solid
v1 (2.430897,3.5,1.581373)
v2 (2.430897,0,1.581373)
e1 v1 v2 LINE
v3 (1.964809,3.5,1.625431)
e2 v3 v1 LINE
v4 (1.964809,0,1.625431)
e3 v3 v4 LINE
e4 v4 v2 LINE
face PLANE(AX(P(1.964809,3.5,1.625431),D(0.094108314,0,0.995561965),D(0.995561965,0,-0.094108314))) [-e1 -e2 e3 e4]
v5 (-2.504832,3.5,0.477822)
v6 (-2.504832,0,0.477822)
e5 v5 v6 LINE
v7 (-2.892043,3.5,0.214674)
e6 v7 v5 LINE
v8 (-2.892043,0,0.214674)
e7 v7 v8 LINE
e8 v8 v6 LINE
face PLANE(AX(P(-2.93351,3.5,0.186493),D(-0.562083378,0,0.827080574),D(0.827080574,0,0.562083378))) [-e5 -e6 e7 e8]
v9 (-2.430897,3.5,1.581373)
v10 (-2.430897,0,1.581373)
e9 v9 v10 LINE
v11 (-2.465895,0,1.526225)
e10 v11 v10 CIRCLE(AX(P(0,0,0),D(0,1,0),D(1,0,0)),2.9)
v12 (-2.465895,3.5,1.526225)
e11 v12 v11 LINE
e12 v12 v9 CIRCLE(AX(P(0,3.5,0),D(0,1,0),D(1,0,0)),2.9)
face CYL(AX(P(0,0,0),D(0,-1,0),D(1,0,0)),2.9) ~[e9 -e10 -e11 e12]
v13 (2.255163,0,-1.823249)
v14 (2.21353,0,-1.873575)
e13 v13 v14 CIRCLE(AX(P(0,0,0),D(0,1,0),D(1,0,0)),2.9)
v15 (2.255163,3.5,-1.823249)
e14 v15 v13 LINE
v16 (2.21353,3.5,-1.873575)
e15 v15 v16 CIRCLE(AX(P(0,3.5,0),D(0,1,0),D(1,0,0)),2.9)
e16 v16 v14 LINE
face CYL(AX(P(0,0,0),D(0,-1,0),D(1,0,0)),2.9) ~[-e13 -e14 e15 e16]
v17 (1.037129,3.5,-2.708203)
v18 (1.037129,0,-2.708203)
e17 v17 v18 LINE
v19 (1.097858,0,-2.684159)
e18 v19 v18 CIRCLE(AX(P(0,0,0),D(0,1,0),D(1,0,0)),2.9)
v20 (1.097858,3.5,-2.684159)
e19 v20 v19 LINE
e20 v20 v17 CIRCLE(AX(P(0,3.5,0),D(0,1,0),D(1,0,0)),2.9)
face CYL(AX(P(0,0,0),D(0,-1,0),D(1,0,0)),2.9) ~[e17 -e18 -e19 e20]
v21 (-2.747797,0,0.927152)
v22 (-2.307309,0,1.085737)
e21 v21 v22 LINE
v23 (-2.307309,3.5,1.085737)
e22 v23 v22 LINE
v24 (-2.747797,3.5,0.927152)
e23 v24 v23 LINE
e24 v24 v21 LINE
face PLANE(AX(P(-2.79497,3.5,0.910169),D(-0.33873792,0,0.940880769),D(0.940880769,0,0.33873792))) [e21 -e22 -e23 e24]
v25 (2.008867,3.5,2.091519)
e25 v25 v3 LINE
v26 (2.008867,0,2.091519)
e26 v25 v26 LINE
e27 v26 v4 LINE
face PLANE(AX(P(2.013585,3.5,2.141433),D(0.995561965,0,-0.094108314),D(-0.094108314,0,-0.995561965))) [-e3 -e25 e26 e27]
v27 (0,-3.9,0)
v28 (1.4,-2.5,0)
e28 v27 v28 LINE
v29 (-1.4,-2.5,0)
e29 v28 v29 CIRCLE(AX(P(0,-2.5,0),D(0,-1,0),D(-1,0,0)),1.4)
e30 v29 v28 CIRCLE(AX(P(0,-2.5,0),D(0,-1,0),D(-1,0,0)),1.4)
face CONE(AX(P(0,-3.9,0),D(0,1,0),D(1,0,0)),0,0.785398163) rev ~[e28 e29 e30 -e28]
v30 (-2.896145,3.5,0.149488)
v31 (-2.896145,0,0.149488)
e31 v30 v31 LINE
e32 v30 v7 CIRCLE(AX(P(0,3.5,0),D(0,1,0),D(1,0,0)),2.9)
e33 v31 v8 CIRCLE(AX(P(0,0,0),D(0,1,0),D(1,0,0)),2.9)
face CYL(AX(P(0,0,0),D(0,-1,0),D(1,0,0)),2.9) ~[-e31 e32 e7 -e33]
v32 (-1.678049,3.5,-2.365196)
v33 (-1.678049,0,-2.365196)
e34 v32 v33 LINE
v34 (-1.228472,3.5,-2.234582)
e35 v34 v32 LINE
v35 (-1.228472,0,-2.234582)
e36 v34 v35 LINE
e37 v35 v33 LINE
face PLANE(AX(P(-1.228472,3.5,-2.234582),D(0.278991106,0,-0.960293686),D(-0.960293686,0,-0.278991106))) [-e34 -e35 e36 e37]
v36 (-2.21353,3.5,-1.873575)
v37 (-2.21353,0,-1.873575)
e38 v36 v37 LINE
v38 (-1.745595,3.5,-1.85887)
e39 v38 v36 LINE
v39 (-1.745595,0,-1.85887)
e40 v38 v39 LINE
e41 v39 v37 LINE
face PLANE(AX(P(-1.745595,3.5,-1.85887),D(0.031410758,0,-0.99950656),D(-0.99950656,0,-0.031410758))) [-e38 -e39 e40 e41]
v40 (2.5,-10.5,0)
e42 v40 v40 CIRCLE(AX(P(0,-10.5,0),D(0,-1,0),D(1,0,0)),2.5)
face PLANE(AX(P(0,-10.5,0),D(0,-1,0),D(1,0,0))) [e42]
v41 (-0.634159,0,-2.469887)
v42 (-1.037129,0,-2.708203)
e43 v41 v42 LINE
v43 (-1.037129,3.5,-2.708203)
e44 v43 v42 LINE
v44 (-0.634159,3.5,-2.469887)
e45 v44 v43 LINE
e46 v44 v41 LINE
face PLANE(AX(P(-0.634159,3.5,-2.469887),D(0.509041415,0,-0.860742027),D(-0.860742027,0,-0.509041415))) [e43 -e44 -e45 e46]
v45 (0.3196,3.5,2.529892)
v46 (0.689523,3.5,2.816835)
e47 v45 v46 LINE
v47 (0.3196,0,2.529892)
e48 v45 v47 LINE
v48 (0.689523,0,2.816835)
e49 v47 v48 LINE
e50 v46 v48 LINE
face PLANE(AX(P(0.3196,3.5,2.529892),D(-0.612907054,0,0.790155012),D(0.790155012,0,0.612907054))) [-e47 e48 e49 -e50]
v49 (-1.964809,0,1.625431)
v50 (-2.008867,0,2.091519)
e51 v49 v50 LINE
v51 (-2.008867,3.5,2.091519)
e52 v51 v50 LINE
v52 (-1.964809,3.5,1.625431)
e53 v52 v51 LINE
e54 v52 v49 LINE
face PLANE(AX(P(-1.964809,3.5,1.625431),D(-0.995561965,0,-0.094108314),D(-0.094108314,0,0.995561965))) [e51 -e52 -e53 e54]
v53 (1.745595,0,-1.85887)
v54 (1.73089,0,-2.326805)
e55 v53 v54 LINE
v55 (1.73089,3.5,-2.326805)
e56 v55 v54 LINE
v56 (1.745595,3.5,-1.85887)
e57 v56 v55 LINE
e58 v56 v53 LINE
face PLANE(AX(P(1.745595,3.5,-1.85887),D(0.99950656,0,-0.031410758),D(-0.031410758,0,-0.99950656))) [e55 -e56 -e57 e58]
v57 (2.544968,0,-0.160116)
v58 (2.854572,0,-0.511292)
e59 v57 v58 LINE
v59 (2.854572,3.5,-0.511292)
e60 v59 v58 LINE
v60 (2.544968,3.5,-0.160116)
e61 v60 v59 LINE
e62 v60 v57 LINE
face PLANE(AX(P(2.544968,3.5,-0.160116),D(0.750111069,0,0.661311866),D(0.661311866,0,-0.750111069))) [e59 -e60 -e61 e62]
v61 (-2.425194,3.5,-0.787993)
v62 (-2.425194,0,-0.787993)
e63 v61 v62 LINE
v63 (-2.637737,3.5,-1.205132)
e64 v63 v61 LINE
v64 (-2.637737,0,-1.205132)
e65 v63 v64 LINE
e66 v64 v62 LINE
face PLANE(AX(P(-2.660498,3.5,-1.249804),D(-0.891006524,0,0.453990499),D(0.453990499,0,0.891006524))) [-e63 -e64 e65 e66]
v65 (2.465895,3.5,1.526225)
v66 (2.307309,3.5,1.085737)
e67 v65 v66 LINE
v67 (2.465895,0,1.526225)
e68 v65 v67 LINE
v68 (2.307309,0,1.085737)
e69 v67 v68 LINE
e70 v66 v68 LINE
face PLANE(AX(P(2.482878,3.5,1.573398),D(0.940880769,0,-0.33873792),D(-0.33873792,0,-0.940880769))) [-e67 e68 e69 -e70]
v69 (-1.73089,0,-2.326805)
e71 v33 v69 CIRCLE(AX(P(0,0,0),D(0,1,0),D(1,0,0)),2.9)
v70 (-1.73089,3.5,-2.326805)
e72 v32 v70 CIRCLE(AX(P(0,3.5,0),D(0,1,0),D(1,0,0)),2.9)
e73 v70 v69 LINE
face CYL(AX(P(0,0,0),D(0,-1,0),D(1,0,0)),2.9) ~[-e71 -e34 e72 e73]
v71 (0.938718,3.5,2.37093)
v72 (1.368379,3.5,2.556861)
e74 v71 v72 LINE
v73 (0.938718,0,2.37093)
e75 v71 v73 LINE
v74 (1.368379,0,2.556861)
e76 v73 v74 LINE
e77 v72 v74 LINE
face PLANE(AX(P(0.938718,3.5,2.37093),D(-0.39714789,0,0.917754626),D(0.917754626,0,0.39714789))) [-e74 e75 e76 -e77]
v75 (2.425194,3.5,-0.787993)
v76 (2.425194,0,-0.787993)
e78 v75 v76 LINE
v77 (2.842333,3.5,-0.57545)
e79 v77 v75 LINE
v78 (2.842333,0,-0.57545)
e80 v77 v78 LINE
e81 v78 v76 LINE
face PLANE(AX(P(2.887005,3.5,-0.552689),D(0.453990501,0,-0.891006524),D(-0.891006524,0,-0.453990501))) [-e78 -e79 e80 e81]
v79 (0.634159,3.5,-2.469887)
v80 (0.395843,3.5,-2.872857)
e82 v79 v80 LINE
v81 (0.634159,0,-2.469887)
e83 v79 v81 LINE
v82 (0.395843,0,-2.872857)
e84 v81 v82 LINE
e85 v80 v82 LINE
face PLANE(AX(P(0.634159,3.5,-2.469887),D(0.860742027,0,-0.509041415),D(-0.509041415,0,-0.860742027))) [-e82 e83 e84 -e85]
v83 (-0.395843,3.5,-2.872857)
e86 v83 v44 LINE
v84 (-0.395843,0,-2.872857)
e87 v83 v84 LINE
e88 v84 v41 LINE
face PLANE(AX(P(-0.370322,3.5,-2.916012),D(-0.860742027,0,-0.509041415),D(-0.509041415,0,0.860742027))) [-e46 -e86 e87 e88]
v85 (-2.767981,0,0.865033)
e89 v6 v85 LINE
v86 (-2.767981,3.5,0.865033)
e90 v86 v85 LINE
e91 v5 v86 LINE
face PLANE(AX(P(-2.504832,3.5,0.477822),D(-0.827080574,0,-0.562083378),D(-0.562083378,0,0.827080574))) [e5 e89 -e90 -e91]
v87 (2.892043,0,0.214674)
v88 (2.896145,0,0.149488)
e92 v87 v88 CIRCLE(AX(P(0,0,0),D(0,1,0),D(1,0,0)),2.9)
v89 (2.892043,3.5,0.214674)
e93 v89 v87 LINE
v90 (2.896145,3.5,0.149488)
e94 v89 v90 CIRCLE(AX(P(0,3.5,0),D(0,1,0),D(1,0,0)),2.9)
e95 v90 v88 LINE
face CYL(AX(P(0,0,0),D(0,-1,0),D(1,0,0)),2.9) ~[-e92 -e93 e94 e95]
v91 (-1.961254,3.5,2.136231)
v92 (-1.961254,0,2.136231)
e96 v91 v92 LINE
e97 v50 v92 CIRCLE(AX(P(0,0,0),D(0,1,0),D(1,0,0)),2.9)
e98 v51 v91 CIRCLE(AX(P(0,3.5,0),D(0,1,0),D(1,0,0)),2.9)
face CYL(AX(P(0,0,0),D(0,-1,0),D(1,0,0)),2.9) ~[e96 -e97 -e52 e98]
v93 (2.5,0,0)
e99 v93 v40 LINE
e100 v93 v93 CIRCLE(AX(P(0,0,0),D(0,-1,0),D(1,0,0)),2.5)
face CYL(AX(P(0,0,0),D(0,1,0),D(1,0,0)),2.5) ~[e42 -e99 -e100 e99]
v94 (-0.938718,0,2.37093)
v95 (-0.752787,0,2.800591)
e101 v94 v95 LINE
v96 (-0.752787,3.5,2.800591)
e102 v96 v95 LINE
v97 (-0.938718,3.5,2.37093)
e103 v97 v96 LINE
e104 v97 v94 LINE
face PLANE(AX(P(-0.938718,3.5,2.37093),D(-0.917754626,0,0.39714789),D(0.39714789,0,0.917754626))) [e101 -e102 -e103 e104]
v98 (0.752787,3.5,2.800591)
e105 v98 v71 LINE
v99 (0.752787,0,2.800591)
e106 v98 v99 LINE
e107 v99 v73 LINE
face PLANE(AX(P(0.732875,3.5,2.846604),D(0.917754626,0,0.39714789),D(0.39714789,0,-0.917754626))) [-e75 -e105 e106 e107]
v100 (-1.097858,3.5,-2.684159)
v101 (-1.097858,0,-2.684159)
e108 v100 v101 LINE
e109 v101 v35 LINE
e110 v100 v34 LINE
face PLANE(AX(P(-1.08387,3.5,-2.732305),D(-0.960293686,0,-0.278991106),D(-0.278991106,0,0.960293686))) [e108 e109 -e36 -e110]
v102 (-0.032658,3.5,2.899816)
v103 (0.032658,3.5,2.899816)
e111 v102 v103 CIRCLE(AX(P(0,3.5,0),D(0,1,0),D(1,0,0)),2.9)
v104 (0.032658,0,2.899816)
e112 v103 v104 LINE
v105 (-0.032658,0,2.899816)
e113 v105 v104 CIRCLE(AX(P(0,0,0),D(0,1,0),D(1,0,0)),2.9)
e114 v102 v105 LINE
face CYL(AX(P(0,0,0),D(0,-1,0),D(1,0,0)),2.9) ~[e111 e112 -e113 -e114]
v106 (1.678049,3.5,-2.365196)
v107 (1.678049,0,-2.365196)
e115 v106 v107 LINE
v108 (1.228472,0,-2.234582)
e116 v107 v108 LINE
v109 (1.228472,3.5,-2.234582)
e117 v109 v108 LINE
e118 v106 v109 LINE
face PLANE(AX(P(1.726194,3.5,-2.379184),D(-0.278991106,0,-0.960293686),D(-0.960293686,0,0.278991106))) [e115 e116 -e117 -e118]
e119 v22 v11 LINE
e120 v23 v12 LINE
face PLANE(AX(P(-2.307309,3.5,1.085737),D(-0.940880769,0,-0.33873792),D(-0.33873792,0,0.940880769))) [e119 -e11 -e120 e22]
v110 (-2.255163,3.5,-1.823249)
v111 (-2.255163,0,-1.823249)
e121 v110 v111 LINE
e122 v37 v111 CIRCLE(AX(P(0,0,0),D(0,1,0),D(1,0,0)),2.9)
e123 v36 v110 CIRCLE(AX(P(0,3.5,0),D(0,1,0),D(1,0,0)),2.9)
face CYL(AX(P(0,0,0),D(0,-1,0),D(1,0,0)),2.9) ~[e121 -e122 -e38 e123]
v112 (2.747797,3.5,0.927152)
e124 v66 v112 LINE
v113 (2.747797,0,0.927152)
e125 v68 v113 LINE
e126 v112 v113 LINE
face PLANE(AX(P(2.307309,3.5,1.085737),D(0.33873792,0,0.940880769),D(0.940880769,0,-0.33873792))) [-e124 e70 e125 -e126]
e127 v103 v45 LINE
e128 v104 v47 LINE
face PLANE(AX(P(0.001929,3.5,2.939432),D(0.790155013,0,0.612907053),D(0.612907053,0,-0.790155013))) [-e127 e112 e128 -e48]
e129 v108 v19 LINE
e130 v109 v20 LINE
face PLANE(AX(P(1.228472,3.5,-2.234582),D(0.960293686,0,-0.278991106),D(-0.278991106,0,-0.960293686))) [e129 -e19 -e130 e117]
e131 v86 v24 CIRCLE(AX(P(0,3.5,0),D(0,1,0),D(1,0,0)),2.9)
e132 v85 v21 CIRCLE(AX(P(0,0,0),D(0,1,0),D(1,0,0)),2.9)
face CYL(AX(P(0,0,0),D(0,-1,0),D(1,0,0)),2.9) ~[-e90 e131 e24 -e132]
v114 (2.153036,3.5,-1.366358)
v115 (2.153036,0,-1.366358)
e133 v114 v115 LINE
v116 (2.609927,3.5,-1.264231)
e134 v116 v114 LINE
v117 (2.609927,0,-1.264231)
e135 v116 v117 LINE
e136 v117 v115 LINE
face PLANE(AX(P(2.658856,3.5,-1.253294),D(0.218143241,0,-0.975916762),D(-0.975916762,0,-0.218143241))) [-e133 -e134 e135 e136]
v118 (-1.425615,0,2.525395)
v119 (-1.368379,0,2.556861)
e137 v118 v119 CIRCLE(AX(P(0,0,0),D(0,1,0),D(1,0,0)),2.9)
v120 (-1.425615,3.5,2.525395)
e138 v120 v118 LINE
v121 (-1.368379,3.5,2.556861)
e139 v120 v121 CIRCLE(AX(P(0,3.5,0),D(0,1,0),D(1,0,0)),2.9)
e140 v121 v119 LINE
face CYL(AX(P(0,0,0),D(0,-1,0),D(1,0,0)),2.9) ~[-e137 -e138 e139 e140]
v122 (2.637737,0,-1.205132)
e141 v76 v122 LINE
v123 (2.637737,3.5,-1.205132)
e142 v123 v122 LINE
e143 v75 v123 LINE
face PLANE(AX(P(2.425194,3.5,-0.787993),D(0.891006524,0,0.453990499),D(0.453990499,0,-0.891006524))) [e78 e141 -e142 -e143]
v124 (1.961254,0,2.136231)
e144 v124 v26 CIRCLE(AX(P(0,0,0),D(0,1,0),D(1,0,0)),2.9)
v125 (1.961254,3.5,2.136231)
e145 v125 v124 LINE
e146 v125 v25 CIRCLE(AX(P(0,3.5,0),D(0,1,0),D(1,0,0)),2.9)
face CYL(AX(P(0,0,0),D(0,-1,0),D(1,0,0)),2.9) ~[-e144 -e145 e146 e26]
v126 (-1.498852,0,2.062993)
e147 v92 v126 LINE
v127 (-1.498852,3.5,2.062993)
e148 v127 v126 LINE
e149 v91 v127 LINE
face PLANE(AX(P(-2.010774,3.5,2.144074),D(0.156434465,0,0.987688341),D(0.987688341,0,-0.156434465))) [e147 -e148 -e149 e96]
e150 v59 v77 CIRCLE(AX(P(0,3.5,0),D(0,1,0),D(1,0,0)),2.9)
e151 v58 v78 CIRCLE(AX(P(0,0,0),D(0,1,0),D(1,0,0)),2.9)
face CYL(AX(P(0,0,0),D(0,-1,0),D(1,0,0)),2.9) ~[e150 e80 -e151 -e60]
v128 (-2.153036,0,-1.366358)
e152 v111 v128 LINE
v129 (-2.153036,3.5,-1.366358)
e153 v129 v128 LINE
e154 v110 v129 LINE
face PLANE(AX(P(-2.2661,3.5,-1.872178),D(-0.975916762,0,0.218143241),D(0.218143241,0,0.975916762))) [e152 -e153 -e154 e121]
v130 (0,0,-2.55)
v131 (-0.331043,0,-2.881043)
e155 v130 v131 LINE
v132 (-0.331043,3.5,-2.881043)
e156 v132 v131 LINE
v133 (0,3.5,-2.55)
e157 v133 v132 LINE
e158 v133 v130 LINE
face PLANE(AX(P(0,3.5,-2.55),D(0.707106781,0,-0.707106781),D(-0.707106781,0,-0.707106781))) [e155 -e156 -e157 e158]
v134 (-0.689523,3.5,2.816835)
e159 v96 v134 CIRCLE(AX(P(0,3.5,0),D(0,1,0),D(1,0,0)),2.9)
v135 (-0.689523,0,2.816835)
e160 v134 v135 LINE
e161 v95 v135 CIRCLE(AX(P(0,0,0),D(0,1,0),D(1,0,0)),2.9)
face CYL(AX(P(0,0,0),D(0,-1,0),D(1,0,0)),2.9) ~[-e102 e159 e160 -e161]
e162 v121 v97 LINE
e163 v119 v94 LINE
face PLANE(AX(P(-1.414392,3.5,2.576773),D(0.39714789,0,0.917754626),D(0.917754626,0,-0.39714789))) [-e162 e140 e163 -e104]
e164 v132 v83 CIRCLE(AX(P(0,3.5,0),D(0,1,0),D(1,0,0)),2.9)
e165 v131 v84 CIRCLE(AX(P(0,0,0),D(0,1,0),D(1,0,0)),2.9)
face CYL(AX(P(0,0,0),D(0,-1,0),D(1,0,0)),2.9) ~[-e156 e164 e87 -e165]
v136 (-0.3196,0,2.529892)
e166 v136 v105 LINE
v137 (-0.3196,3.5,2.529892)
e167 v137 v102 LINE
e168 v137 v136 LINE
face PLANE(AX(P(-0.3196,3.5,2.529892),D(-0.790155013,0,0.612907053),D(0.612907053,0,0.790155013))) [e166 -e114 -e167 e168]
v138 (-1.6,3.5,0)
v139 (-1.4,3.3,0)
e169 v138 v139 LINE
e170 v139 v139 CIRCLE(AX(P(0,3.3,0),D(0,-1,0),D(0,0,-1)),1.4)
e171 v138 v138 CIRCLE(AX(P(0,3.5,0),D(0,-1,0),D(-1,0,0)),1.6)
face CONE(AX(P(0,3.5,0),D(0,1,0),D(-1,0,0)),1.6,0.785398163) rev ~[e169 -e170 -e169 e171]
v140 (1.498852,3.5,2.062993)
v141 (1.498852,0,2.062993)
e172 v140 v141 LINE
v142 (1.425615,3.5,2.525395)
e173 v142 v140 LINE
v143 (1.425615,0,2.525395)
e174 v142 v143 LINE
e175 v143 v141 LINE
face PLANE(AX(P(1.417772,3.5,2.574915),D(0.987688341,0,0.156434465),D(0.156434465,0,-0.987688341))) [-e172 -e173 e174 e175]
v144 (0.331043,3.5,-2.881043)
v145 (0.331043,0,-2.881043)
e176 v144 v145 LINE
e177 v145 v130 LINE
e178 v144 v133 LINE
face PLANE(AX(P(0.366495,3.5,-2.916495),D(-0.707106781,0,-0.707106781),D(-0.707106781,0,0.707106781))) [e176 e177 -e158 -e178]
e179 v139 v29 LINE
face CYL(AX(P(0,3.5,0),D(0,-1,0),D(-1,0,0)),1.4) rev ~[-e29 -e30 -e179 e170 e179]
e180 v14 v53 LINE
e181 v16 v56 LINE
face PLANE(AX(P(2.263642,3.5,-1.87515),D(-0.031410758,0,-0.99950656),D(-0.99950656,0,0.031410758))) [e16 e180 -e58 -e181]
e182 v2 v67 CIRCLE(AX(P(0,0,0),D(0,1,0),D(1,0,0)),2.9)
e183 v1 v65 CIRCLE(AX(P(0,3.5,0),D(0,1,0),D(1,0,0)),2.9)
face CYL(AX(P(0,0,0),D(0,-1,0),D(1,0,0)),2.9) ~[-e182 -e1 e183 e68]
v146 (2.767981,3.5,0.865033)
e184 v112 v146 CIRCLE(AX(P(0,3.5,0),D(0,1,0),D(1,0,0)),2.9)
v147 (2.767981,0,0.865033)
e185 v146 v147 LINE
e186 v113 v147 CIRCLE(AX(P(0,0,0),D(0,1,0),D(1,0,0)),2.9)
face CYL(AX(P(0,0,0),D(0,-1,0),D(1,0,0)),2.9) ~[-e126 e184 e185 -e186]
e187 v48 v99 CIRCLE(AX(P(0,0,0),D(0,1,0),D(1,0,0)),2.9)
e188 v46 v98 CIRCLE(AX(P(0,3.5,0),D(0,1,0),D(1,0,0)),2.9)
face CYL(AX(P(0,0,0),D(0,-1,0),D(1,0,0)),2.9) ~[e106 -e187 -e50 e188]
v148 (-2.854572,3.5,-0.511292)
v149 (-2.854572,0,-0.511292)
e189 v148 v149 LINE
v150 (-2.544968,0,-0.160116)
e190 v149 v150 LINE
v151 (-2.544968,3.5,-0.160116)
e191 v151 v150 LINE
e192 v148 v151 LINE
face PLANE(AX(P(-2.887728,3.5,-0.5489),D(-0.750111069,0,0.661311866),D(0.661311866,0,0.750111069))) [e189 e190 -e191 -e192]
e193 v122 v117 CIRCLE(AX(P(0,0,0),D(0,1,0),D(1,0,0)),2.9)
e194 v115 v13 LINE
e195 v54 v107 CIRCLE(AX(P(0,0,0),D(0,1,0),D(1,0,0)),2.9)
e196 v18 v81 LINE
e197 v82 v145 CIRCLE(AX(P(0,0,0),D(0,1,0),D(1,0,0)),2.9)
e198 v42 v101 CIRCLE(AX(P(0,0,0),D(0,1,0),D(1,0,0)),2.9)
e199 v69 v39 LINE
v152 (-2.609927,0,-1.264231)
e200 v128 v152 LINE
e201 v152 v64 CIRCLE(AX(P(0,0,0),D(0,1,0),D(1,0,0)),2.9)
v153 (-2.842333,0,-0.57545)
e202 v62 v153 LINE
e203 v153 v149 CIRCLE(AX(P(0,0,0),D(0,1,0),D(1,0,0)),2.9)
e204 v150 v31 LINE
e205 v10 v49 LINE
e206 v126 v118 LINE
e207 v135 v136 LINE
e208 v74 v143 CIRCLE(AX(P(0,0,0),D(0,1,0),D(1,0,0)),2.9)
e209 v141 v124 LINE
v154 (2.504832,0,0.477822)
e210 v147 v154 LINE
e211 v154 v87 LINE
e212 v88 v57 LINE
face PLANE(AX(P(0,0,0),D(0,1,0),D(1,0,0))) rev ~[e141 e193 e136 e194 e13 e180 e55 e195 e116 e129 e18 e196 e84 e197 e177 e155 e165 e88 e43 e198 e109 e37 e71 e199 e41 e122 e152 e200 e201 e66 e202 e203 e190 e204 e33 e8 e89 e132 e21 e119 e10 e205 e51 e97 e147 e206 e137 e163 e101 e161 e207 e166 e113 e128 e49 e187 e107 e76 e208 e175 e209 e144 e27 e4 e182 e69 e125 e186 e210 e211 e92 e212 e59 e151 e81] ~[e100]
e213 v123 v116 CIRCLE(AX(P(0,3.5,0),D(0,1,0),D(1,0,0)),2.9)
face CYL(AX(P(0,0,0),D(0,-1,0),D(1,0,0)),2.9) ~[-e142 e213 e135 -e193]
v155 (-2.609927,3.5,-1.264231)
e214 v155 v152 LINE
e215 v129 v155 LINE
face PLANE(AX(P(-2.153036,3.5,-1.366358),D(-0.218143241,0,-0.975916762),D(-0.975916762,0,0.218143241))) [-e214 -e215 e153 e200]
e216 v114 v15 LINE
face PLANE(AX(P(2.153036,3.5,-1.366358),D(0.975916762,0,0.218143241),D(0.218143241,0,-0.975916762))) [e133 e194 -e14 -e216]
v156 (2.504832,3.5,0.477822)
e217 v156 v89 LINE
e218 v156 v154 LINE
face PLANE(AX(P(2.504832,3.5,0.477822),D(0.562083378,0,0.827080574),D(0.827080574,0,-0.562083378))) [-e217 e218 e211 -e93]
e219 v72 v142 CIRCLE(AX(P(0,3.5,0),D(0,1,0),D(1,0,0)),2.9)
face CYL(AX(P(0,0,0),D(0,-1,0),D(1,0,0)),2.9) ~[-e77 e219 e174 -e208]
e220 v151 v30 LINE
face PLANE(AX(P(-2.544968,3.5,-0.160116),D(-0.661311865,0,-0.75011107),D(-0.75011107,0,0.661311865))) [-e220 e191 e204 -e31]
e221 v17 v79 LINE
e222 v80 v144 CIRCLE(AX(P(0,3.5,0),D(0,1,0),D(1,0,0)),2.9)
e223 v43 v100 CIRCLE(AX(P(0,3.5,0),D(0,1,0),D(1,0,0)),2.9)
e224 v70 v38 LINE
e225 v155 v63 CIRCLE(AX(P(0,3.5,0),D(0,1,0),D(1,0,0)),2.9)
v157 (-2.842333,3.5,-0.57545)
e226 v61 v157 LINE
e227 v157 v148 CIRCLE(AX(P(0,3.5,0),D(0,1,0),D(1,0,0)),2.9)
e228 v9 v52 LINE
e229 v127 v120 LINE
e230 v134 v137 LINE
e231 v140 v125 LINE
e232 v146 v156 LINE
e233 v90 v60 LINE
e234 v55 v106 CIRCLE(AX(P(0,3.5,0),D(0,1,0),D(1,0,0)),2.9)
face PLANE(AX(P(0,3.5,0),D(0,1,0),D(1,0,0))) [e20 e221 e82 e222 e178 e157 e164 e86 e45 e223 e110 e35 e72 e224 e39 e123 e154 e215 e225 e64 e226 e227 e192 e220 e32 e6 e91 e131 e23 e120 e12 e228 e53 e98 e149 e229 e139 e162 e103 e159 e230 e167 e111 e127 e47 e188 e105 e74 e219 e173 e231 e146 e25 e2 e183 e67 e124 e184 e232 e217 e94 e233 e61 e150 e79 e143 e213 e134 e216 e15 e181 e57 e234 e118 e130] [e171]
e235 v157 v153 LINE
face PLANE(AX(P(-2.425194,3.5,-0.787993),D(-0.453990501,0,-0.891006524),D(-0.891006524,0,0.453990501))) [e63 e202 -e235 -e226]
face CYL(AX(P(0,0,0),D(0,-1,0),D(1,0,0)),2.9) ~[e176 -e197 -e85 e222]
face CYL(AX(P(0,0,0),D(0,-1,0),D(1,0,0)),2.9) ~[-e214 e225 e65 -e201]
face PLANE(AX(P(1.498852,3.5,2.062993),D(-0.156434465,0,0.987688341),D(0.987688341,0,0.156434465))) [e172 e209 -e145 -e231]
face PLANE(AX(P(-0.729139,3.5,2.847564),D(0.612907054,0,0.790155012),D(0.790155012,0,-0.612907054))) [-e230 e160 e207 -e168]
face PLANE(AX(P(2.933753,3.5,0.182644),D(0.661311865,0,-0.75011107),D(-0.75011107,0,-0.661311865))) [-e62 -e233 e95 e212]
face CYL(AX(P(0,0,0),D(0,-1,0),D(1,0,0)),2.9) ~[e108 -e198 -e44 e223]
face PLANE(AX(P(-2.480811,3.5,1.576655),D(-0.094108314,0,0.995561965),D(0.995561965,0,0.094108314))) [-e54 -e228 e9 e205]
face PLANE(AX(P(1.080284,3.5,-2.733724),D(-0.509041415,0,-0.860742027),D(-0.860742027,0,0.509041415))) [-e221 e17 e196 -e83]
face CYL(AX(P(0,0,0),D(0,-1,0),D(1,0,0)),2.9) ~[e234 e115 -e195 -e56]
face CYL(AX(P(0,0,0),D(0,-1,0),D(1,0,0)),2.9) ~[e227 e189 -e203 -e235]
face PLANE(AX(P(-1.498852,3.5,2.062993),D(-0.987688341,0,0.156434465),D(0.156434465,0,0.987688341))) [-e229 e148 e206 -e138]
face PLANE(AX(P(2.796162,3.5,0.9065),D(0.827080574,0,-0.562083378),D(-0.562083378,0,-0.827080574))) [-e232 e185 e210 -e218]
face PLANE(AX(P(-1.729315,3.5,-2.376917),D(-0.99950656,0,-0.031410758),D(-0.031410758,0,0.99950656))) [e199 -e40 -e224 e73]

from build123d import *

# Parameters (mm, degrees)
SKETCH_1_R                  = 2.9
EXTRUDE_1_DEPTH             = 3.5
SKETCH_2_R                  = 2.5
EXTRUDE_2_DEPTH             = 10.5
CUT_EXTRUDE_1_DEPTH         = 4
HOLE_WIZARD_M32_D           = 2.8
HOLE_WIZARD_M32_DEPTH       = 6
HOLE_WIZARD_M32_CSINK_D     = 3.2
HOLE_WIZARD_M32_CSINK_ANGLE = 90
HOLE_WIZARD_M32_TIP         = 1.4


with BuildPart() as part:
    # Эскиз1 → Бобышка-Вытянуть1 (new body)
    with BuildSketch(Plane(origin=(0, 0, 0), x_dir=(1, 0, 0), z_dir=(0, 1, 0))):
        Circle(SKETCH_1_R)
    extrude(amount=EXTRUDE_1_DEPTH)

    # Эскиз2 → Бобышка-Вытянуть2 (add)
    with BuildSketch(Plane.XZ):
        Circle(SKETCH_2_R)
    extrude(amount=EXTRUDE_2_DEPTH)

    # Эскиз3 → Вырез-Вытянуть1 (cut)
    with BuildSketch(Plane(origin=(0, 3.5, 0), x_dir=(1, 0, 0), z_dir=(0, 1, 0))):
        Polygon((0, 2.55), (-0.366495157, 2.916495157), (0.366495157, 2.916495157), align=None)
        Polygon((0.634159212, 2.469887061), (0.370321814, 2.916011738), (1.080283889, 2.733724459), align=None)
        Polygon((1.228471869, 2.234582034), (1.083870103, 2.732304577), (1.726194412, 2.3791838), align=None)
        Polygon((1.74559512, 1.85887), (1.729314848, 2.37691667), (2.263641791, 1.875150272), align=None)
        Polygon((2.15303621, 1.366358327), (2.26610038, 1.872178348), (2.658856231, 1.253294157), align=None)
        Polygon((2.425194117, 0.787993336), (2.660498492, 1.249804175), (2.887004956, 0.55268896), align=None)
        Polygon((2.544968157, 0.160115825), (2.887727699, 0.548900209), (2.933752541, -0.182643716), align=None)
        Polygon((2.504832489, -0.477822352), (2.933510354, -0.186493176), (2.796161665, -0.906500217), align=None)
        Polygon((2.307308984, -1.085737193), (2.794969765, -0.910168509), (2.482877668, -1.573397974), align=None)
        Polygon((1.964808769, -1.625431174), (2.480810946, -1.576654607), (2.013585336, -2.141433351), align=None)
        Polygon((1.498852393, -2.062993336), (2.010773652, -2.144073698), (1.417772031, -2.574914594), align=None)
        Polygon((0.938717609, -2.370930039), (1.414392054, -2.576772752), (0.732874896, -2.846604484), align=None)
        Polygon((0.319599746, -2.529892488), (0.729139002, -2.847563698), (0.001928536, -2.939431745), align=None)
        Polygon((-0.319599746, -2.529892488), (-0.001928536, -2.939431745), (-0.729139002, -2.847563698), align=None)
        Polygon((-0.938717609, -2.370930039), (-0.732874896, -2.846604484), (-1.414392054, -2.576772752), align=None)
        Polygon((-1.498852393, -2.062993336), (-1.417772031, -2.574914594), (-2.010773652, -2.144073698), align=None)
        Polygon((-1.964808769, -1.625431174), (-2.013585336, -2.141433351), (-2.480810946, -1.576654607), align=None)
        Polygon((-2.307308984, -1.085737193), (-2.482877668, -1.573397974), (-2.794969765, -0.910168509), align=None)
        Polygon((-2.504832489, -0.477822352), (-2.796161665, -0.906500217), (-2.933510354, -0.186493176), align=None)
        Polygon((-2.544968157, 0.160115825), (-2.933752541, -0.182643716), (-2.887727699, 0.548900209), align=None)
        Polygon((-2.425194117, 0.787993336), (-2.887004956, 0.55268896), (-2.660498492, 1.249804175), align=None)
        Polygon((-2.15303621, 1.366358327), (-2.658856231, 1.253294157), (-2.26610038, 1.872178348), align=None)
        Polygon((-1.74559512, 1.85887), (-2.263641791, 1.875150272), (-1.729314848, 2.37691667), align=None)
        Polygon((-1.228471869, 2.234582034), (-1.726194412, 2.3791838), (-1.083870103, 2.732304577), align=None)
        Polygon((-0.634159212, 2.469887061), (-1.080283889, 2.733724459), (-0.370321814, 2.916011738), align=None)
    extrude(amount=-CUT_EXTRUDE_1_DEPTH, mode=Mode.SUBTRACT)

    # Сверло под метчик  спиральное M32
    with Locations(Plane(origin=(0, 3.5, 0), x_dir=(1, 0, 0), z_dir=(0, 1, 0))):
        with Locations((0, 0)):
            CounterSinkHole(HOLE_WIZARD_M32_D / 2, HOLE_WIZARD_M32_CSINK_D / 2, depth=HOLE_WIZARD_M32_DEPTH, counter_sink_angle=HOLE_WIZARD_M32_CSINK_ANGLE)
            with Locations((0, 0, -(HOLE_WIZARD_M32_DEPTH + HOLE_WIZARD_M32_TIP / 2))):  # 90° drill point
                Cone(0, HOLE_WIZARD_M32_D / 2, HOLE_WIZARD_M32_TIP, mode=Mode.SUBTRACT)


solid = part.part
